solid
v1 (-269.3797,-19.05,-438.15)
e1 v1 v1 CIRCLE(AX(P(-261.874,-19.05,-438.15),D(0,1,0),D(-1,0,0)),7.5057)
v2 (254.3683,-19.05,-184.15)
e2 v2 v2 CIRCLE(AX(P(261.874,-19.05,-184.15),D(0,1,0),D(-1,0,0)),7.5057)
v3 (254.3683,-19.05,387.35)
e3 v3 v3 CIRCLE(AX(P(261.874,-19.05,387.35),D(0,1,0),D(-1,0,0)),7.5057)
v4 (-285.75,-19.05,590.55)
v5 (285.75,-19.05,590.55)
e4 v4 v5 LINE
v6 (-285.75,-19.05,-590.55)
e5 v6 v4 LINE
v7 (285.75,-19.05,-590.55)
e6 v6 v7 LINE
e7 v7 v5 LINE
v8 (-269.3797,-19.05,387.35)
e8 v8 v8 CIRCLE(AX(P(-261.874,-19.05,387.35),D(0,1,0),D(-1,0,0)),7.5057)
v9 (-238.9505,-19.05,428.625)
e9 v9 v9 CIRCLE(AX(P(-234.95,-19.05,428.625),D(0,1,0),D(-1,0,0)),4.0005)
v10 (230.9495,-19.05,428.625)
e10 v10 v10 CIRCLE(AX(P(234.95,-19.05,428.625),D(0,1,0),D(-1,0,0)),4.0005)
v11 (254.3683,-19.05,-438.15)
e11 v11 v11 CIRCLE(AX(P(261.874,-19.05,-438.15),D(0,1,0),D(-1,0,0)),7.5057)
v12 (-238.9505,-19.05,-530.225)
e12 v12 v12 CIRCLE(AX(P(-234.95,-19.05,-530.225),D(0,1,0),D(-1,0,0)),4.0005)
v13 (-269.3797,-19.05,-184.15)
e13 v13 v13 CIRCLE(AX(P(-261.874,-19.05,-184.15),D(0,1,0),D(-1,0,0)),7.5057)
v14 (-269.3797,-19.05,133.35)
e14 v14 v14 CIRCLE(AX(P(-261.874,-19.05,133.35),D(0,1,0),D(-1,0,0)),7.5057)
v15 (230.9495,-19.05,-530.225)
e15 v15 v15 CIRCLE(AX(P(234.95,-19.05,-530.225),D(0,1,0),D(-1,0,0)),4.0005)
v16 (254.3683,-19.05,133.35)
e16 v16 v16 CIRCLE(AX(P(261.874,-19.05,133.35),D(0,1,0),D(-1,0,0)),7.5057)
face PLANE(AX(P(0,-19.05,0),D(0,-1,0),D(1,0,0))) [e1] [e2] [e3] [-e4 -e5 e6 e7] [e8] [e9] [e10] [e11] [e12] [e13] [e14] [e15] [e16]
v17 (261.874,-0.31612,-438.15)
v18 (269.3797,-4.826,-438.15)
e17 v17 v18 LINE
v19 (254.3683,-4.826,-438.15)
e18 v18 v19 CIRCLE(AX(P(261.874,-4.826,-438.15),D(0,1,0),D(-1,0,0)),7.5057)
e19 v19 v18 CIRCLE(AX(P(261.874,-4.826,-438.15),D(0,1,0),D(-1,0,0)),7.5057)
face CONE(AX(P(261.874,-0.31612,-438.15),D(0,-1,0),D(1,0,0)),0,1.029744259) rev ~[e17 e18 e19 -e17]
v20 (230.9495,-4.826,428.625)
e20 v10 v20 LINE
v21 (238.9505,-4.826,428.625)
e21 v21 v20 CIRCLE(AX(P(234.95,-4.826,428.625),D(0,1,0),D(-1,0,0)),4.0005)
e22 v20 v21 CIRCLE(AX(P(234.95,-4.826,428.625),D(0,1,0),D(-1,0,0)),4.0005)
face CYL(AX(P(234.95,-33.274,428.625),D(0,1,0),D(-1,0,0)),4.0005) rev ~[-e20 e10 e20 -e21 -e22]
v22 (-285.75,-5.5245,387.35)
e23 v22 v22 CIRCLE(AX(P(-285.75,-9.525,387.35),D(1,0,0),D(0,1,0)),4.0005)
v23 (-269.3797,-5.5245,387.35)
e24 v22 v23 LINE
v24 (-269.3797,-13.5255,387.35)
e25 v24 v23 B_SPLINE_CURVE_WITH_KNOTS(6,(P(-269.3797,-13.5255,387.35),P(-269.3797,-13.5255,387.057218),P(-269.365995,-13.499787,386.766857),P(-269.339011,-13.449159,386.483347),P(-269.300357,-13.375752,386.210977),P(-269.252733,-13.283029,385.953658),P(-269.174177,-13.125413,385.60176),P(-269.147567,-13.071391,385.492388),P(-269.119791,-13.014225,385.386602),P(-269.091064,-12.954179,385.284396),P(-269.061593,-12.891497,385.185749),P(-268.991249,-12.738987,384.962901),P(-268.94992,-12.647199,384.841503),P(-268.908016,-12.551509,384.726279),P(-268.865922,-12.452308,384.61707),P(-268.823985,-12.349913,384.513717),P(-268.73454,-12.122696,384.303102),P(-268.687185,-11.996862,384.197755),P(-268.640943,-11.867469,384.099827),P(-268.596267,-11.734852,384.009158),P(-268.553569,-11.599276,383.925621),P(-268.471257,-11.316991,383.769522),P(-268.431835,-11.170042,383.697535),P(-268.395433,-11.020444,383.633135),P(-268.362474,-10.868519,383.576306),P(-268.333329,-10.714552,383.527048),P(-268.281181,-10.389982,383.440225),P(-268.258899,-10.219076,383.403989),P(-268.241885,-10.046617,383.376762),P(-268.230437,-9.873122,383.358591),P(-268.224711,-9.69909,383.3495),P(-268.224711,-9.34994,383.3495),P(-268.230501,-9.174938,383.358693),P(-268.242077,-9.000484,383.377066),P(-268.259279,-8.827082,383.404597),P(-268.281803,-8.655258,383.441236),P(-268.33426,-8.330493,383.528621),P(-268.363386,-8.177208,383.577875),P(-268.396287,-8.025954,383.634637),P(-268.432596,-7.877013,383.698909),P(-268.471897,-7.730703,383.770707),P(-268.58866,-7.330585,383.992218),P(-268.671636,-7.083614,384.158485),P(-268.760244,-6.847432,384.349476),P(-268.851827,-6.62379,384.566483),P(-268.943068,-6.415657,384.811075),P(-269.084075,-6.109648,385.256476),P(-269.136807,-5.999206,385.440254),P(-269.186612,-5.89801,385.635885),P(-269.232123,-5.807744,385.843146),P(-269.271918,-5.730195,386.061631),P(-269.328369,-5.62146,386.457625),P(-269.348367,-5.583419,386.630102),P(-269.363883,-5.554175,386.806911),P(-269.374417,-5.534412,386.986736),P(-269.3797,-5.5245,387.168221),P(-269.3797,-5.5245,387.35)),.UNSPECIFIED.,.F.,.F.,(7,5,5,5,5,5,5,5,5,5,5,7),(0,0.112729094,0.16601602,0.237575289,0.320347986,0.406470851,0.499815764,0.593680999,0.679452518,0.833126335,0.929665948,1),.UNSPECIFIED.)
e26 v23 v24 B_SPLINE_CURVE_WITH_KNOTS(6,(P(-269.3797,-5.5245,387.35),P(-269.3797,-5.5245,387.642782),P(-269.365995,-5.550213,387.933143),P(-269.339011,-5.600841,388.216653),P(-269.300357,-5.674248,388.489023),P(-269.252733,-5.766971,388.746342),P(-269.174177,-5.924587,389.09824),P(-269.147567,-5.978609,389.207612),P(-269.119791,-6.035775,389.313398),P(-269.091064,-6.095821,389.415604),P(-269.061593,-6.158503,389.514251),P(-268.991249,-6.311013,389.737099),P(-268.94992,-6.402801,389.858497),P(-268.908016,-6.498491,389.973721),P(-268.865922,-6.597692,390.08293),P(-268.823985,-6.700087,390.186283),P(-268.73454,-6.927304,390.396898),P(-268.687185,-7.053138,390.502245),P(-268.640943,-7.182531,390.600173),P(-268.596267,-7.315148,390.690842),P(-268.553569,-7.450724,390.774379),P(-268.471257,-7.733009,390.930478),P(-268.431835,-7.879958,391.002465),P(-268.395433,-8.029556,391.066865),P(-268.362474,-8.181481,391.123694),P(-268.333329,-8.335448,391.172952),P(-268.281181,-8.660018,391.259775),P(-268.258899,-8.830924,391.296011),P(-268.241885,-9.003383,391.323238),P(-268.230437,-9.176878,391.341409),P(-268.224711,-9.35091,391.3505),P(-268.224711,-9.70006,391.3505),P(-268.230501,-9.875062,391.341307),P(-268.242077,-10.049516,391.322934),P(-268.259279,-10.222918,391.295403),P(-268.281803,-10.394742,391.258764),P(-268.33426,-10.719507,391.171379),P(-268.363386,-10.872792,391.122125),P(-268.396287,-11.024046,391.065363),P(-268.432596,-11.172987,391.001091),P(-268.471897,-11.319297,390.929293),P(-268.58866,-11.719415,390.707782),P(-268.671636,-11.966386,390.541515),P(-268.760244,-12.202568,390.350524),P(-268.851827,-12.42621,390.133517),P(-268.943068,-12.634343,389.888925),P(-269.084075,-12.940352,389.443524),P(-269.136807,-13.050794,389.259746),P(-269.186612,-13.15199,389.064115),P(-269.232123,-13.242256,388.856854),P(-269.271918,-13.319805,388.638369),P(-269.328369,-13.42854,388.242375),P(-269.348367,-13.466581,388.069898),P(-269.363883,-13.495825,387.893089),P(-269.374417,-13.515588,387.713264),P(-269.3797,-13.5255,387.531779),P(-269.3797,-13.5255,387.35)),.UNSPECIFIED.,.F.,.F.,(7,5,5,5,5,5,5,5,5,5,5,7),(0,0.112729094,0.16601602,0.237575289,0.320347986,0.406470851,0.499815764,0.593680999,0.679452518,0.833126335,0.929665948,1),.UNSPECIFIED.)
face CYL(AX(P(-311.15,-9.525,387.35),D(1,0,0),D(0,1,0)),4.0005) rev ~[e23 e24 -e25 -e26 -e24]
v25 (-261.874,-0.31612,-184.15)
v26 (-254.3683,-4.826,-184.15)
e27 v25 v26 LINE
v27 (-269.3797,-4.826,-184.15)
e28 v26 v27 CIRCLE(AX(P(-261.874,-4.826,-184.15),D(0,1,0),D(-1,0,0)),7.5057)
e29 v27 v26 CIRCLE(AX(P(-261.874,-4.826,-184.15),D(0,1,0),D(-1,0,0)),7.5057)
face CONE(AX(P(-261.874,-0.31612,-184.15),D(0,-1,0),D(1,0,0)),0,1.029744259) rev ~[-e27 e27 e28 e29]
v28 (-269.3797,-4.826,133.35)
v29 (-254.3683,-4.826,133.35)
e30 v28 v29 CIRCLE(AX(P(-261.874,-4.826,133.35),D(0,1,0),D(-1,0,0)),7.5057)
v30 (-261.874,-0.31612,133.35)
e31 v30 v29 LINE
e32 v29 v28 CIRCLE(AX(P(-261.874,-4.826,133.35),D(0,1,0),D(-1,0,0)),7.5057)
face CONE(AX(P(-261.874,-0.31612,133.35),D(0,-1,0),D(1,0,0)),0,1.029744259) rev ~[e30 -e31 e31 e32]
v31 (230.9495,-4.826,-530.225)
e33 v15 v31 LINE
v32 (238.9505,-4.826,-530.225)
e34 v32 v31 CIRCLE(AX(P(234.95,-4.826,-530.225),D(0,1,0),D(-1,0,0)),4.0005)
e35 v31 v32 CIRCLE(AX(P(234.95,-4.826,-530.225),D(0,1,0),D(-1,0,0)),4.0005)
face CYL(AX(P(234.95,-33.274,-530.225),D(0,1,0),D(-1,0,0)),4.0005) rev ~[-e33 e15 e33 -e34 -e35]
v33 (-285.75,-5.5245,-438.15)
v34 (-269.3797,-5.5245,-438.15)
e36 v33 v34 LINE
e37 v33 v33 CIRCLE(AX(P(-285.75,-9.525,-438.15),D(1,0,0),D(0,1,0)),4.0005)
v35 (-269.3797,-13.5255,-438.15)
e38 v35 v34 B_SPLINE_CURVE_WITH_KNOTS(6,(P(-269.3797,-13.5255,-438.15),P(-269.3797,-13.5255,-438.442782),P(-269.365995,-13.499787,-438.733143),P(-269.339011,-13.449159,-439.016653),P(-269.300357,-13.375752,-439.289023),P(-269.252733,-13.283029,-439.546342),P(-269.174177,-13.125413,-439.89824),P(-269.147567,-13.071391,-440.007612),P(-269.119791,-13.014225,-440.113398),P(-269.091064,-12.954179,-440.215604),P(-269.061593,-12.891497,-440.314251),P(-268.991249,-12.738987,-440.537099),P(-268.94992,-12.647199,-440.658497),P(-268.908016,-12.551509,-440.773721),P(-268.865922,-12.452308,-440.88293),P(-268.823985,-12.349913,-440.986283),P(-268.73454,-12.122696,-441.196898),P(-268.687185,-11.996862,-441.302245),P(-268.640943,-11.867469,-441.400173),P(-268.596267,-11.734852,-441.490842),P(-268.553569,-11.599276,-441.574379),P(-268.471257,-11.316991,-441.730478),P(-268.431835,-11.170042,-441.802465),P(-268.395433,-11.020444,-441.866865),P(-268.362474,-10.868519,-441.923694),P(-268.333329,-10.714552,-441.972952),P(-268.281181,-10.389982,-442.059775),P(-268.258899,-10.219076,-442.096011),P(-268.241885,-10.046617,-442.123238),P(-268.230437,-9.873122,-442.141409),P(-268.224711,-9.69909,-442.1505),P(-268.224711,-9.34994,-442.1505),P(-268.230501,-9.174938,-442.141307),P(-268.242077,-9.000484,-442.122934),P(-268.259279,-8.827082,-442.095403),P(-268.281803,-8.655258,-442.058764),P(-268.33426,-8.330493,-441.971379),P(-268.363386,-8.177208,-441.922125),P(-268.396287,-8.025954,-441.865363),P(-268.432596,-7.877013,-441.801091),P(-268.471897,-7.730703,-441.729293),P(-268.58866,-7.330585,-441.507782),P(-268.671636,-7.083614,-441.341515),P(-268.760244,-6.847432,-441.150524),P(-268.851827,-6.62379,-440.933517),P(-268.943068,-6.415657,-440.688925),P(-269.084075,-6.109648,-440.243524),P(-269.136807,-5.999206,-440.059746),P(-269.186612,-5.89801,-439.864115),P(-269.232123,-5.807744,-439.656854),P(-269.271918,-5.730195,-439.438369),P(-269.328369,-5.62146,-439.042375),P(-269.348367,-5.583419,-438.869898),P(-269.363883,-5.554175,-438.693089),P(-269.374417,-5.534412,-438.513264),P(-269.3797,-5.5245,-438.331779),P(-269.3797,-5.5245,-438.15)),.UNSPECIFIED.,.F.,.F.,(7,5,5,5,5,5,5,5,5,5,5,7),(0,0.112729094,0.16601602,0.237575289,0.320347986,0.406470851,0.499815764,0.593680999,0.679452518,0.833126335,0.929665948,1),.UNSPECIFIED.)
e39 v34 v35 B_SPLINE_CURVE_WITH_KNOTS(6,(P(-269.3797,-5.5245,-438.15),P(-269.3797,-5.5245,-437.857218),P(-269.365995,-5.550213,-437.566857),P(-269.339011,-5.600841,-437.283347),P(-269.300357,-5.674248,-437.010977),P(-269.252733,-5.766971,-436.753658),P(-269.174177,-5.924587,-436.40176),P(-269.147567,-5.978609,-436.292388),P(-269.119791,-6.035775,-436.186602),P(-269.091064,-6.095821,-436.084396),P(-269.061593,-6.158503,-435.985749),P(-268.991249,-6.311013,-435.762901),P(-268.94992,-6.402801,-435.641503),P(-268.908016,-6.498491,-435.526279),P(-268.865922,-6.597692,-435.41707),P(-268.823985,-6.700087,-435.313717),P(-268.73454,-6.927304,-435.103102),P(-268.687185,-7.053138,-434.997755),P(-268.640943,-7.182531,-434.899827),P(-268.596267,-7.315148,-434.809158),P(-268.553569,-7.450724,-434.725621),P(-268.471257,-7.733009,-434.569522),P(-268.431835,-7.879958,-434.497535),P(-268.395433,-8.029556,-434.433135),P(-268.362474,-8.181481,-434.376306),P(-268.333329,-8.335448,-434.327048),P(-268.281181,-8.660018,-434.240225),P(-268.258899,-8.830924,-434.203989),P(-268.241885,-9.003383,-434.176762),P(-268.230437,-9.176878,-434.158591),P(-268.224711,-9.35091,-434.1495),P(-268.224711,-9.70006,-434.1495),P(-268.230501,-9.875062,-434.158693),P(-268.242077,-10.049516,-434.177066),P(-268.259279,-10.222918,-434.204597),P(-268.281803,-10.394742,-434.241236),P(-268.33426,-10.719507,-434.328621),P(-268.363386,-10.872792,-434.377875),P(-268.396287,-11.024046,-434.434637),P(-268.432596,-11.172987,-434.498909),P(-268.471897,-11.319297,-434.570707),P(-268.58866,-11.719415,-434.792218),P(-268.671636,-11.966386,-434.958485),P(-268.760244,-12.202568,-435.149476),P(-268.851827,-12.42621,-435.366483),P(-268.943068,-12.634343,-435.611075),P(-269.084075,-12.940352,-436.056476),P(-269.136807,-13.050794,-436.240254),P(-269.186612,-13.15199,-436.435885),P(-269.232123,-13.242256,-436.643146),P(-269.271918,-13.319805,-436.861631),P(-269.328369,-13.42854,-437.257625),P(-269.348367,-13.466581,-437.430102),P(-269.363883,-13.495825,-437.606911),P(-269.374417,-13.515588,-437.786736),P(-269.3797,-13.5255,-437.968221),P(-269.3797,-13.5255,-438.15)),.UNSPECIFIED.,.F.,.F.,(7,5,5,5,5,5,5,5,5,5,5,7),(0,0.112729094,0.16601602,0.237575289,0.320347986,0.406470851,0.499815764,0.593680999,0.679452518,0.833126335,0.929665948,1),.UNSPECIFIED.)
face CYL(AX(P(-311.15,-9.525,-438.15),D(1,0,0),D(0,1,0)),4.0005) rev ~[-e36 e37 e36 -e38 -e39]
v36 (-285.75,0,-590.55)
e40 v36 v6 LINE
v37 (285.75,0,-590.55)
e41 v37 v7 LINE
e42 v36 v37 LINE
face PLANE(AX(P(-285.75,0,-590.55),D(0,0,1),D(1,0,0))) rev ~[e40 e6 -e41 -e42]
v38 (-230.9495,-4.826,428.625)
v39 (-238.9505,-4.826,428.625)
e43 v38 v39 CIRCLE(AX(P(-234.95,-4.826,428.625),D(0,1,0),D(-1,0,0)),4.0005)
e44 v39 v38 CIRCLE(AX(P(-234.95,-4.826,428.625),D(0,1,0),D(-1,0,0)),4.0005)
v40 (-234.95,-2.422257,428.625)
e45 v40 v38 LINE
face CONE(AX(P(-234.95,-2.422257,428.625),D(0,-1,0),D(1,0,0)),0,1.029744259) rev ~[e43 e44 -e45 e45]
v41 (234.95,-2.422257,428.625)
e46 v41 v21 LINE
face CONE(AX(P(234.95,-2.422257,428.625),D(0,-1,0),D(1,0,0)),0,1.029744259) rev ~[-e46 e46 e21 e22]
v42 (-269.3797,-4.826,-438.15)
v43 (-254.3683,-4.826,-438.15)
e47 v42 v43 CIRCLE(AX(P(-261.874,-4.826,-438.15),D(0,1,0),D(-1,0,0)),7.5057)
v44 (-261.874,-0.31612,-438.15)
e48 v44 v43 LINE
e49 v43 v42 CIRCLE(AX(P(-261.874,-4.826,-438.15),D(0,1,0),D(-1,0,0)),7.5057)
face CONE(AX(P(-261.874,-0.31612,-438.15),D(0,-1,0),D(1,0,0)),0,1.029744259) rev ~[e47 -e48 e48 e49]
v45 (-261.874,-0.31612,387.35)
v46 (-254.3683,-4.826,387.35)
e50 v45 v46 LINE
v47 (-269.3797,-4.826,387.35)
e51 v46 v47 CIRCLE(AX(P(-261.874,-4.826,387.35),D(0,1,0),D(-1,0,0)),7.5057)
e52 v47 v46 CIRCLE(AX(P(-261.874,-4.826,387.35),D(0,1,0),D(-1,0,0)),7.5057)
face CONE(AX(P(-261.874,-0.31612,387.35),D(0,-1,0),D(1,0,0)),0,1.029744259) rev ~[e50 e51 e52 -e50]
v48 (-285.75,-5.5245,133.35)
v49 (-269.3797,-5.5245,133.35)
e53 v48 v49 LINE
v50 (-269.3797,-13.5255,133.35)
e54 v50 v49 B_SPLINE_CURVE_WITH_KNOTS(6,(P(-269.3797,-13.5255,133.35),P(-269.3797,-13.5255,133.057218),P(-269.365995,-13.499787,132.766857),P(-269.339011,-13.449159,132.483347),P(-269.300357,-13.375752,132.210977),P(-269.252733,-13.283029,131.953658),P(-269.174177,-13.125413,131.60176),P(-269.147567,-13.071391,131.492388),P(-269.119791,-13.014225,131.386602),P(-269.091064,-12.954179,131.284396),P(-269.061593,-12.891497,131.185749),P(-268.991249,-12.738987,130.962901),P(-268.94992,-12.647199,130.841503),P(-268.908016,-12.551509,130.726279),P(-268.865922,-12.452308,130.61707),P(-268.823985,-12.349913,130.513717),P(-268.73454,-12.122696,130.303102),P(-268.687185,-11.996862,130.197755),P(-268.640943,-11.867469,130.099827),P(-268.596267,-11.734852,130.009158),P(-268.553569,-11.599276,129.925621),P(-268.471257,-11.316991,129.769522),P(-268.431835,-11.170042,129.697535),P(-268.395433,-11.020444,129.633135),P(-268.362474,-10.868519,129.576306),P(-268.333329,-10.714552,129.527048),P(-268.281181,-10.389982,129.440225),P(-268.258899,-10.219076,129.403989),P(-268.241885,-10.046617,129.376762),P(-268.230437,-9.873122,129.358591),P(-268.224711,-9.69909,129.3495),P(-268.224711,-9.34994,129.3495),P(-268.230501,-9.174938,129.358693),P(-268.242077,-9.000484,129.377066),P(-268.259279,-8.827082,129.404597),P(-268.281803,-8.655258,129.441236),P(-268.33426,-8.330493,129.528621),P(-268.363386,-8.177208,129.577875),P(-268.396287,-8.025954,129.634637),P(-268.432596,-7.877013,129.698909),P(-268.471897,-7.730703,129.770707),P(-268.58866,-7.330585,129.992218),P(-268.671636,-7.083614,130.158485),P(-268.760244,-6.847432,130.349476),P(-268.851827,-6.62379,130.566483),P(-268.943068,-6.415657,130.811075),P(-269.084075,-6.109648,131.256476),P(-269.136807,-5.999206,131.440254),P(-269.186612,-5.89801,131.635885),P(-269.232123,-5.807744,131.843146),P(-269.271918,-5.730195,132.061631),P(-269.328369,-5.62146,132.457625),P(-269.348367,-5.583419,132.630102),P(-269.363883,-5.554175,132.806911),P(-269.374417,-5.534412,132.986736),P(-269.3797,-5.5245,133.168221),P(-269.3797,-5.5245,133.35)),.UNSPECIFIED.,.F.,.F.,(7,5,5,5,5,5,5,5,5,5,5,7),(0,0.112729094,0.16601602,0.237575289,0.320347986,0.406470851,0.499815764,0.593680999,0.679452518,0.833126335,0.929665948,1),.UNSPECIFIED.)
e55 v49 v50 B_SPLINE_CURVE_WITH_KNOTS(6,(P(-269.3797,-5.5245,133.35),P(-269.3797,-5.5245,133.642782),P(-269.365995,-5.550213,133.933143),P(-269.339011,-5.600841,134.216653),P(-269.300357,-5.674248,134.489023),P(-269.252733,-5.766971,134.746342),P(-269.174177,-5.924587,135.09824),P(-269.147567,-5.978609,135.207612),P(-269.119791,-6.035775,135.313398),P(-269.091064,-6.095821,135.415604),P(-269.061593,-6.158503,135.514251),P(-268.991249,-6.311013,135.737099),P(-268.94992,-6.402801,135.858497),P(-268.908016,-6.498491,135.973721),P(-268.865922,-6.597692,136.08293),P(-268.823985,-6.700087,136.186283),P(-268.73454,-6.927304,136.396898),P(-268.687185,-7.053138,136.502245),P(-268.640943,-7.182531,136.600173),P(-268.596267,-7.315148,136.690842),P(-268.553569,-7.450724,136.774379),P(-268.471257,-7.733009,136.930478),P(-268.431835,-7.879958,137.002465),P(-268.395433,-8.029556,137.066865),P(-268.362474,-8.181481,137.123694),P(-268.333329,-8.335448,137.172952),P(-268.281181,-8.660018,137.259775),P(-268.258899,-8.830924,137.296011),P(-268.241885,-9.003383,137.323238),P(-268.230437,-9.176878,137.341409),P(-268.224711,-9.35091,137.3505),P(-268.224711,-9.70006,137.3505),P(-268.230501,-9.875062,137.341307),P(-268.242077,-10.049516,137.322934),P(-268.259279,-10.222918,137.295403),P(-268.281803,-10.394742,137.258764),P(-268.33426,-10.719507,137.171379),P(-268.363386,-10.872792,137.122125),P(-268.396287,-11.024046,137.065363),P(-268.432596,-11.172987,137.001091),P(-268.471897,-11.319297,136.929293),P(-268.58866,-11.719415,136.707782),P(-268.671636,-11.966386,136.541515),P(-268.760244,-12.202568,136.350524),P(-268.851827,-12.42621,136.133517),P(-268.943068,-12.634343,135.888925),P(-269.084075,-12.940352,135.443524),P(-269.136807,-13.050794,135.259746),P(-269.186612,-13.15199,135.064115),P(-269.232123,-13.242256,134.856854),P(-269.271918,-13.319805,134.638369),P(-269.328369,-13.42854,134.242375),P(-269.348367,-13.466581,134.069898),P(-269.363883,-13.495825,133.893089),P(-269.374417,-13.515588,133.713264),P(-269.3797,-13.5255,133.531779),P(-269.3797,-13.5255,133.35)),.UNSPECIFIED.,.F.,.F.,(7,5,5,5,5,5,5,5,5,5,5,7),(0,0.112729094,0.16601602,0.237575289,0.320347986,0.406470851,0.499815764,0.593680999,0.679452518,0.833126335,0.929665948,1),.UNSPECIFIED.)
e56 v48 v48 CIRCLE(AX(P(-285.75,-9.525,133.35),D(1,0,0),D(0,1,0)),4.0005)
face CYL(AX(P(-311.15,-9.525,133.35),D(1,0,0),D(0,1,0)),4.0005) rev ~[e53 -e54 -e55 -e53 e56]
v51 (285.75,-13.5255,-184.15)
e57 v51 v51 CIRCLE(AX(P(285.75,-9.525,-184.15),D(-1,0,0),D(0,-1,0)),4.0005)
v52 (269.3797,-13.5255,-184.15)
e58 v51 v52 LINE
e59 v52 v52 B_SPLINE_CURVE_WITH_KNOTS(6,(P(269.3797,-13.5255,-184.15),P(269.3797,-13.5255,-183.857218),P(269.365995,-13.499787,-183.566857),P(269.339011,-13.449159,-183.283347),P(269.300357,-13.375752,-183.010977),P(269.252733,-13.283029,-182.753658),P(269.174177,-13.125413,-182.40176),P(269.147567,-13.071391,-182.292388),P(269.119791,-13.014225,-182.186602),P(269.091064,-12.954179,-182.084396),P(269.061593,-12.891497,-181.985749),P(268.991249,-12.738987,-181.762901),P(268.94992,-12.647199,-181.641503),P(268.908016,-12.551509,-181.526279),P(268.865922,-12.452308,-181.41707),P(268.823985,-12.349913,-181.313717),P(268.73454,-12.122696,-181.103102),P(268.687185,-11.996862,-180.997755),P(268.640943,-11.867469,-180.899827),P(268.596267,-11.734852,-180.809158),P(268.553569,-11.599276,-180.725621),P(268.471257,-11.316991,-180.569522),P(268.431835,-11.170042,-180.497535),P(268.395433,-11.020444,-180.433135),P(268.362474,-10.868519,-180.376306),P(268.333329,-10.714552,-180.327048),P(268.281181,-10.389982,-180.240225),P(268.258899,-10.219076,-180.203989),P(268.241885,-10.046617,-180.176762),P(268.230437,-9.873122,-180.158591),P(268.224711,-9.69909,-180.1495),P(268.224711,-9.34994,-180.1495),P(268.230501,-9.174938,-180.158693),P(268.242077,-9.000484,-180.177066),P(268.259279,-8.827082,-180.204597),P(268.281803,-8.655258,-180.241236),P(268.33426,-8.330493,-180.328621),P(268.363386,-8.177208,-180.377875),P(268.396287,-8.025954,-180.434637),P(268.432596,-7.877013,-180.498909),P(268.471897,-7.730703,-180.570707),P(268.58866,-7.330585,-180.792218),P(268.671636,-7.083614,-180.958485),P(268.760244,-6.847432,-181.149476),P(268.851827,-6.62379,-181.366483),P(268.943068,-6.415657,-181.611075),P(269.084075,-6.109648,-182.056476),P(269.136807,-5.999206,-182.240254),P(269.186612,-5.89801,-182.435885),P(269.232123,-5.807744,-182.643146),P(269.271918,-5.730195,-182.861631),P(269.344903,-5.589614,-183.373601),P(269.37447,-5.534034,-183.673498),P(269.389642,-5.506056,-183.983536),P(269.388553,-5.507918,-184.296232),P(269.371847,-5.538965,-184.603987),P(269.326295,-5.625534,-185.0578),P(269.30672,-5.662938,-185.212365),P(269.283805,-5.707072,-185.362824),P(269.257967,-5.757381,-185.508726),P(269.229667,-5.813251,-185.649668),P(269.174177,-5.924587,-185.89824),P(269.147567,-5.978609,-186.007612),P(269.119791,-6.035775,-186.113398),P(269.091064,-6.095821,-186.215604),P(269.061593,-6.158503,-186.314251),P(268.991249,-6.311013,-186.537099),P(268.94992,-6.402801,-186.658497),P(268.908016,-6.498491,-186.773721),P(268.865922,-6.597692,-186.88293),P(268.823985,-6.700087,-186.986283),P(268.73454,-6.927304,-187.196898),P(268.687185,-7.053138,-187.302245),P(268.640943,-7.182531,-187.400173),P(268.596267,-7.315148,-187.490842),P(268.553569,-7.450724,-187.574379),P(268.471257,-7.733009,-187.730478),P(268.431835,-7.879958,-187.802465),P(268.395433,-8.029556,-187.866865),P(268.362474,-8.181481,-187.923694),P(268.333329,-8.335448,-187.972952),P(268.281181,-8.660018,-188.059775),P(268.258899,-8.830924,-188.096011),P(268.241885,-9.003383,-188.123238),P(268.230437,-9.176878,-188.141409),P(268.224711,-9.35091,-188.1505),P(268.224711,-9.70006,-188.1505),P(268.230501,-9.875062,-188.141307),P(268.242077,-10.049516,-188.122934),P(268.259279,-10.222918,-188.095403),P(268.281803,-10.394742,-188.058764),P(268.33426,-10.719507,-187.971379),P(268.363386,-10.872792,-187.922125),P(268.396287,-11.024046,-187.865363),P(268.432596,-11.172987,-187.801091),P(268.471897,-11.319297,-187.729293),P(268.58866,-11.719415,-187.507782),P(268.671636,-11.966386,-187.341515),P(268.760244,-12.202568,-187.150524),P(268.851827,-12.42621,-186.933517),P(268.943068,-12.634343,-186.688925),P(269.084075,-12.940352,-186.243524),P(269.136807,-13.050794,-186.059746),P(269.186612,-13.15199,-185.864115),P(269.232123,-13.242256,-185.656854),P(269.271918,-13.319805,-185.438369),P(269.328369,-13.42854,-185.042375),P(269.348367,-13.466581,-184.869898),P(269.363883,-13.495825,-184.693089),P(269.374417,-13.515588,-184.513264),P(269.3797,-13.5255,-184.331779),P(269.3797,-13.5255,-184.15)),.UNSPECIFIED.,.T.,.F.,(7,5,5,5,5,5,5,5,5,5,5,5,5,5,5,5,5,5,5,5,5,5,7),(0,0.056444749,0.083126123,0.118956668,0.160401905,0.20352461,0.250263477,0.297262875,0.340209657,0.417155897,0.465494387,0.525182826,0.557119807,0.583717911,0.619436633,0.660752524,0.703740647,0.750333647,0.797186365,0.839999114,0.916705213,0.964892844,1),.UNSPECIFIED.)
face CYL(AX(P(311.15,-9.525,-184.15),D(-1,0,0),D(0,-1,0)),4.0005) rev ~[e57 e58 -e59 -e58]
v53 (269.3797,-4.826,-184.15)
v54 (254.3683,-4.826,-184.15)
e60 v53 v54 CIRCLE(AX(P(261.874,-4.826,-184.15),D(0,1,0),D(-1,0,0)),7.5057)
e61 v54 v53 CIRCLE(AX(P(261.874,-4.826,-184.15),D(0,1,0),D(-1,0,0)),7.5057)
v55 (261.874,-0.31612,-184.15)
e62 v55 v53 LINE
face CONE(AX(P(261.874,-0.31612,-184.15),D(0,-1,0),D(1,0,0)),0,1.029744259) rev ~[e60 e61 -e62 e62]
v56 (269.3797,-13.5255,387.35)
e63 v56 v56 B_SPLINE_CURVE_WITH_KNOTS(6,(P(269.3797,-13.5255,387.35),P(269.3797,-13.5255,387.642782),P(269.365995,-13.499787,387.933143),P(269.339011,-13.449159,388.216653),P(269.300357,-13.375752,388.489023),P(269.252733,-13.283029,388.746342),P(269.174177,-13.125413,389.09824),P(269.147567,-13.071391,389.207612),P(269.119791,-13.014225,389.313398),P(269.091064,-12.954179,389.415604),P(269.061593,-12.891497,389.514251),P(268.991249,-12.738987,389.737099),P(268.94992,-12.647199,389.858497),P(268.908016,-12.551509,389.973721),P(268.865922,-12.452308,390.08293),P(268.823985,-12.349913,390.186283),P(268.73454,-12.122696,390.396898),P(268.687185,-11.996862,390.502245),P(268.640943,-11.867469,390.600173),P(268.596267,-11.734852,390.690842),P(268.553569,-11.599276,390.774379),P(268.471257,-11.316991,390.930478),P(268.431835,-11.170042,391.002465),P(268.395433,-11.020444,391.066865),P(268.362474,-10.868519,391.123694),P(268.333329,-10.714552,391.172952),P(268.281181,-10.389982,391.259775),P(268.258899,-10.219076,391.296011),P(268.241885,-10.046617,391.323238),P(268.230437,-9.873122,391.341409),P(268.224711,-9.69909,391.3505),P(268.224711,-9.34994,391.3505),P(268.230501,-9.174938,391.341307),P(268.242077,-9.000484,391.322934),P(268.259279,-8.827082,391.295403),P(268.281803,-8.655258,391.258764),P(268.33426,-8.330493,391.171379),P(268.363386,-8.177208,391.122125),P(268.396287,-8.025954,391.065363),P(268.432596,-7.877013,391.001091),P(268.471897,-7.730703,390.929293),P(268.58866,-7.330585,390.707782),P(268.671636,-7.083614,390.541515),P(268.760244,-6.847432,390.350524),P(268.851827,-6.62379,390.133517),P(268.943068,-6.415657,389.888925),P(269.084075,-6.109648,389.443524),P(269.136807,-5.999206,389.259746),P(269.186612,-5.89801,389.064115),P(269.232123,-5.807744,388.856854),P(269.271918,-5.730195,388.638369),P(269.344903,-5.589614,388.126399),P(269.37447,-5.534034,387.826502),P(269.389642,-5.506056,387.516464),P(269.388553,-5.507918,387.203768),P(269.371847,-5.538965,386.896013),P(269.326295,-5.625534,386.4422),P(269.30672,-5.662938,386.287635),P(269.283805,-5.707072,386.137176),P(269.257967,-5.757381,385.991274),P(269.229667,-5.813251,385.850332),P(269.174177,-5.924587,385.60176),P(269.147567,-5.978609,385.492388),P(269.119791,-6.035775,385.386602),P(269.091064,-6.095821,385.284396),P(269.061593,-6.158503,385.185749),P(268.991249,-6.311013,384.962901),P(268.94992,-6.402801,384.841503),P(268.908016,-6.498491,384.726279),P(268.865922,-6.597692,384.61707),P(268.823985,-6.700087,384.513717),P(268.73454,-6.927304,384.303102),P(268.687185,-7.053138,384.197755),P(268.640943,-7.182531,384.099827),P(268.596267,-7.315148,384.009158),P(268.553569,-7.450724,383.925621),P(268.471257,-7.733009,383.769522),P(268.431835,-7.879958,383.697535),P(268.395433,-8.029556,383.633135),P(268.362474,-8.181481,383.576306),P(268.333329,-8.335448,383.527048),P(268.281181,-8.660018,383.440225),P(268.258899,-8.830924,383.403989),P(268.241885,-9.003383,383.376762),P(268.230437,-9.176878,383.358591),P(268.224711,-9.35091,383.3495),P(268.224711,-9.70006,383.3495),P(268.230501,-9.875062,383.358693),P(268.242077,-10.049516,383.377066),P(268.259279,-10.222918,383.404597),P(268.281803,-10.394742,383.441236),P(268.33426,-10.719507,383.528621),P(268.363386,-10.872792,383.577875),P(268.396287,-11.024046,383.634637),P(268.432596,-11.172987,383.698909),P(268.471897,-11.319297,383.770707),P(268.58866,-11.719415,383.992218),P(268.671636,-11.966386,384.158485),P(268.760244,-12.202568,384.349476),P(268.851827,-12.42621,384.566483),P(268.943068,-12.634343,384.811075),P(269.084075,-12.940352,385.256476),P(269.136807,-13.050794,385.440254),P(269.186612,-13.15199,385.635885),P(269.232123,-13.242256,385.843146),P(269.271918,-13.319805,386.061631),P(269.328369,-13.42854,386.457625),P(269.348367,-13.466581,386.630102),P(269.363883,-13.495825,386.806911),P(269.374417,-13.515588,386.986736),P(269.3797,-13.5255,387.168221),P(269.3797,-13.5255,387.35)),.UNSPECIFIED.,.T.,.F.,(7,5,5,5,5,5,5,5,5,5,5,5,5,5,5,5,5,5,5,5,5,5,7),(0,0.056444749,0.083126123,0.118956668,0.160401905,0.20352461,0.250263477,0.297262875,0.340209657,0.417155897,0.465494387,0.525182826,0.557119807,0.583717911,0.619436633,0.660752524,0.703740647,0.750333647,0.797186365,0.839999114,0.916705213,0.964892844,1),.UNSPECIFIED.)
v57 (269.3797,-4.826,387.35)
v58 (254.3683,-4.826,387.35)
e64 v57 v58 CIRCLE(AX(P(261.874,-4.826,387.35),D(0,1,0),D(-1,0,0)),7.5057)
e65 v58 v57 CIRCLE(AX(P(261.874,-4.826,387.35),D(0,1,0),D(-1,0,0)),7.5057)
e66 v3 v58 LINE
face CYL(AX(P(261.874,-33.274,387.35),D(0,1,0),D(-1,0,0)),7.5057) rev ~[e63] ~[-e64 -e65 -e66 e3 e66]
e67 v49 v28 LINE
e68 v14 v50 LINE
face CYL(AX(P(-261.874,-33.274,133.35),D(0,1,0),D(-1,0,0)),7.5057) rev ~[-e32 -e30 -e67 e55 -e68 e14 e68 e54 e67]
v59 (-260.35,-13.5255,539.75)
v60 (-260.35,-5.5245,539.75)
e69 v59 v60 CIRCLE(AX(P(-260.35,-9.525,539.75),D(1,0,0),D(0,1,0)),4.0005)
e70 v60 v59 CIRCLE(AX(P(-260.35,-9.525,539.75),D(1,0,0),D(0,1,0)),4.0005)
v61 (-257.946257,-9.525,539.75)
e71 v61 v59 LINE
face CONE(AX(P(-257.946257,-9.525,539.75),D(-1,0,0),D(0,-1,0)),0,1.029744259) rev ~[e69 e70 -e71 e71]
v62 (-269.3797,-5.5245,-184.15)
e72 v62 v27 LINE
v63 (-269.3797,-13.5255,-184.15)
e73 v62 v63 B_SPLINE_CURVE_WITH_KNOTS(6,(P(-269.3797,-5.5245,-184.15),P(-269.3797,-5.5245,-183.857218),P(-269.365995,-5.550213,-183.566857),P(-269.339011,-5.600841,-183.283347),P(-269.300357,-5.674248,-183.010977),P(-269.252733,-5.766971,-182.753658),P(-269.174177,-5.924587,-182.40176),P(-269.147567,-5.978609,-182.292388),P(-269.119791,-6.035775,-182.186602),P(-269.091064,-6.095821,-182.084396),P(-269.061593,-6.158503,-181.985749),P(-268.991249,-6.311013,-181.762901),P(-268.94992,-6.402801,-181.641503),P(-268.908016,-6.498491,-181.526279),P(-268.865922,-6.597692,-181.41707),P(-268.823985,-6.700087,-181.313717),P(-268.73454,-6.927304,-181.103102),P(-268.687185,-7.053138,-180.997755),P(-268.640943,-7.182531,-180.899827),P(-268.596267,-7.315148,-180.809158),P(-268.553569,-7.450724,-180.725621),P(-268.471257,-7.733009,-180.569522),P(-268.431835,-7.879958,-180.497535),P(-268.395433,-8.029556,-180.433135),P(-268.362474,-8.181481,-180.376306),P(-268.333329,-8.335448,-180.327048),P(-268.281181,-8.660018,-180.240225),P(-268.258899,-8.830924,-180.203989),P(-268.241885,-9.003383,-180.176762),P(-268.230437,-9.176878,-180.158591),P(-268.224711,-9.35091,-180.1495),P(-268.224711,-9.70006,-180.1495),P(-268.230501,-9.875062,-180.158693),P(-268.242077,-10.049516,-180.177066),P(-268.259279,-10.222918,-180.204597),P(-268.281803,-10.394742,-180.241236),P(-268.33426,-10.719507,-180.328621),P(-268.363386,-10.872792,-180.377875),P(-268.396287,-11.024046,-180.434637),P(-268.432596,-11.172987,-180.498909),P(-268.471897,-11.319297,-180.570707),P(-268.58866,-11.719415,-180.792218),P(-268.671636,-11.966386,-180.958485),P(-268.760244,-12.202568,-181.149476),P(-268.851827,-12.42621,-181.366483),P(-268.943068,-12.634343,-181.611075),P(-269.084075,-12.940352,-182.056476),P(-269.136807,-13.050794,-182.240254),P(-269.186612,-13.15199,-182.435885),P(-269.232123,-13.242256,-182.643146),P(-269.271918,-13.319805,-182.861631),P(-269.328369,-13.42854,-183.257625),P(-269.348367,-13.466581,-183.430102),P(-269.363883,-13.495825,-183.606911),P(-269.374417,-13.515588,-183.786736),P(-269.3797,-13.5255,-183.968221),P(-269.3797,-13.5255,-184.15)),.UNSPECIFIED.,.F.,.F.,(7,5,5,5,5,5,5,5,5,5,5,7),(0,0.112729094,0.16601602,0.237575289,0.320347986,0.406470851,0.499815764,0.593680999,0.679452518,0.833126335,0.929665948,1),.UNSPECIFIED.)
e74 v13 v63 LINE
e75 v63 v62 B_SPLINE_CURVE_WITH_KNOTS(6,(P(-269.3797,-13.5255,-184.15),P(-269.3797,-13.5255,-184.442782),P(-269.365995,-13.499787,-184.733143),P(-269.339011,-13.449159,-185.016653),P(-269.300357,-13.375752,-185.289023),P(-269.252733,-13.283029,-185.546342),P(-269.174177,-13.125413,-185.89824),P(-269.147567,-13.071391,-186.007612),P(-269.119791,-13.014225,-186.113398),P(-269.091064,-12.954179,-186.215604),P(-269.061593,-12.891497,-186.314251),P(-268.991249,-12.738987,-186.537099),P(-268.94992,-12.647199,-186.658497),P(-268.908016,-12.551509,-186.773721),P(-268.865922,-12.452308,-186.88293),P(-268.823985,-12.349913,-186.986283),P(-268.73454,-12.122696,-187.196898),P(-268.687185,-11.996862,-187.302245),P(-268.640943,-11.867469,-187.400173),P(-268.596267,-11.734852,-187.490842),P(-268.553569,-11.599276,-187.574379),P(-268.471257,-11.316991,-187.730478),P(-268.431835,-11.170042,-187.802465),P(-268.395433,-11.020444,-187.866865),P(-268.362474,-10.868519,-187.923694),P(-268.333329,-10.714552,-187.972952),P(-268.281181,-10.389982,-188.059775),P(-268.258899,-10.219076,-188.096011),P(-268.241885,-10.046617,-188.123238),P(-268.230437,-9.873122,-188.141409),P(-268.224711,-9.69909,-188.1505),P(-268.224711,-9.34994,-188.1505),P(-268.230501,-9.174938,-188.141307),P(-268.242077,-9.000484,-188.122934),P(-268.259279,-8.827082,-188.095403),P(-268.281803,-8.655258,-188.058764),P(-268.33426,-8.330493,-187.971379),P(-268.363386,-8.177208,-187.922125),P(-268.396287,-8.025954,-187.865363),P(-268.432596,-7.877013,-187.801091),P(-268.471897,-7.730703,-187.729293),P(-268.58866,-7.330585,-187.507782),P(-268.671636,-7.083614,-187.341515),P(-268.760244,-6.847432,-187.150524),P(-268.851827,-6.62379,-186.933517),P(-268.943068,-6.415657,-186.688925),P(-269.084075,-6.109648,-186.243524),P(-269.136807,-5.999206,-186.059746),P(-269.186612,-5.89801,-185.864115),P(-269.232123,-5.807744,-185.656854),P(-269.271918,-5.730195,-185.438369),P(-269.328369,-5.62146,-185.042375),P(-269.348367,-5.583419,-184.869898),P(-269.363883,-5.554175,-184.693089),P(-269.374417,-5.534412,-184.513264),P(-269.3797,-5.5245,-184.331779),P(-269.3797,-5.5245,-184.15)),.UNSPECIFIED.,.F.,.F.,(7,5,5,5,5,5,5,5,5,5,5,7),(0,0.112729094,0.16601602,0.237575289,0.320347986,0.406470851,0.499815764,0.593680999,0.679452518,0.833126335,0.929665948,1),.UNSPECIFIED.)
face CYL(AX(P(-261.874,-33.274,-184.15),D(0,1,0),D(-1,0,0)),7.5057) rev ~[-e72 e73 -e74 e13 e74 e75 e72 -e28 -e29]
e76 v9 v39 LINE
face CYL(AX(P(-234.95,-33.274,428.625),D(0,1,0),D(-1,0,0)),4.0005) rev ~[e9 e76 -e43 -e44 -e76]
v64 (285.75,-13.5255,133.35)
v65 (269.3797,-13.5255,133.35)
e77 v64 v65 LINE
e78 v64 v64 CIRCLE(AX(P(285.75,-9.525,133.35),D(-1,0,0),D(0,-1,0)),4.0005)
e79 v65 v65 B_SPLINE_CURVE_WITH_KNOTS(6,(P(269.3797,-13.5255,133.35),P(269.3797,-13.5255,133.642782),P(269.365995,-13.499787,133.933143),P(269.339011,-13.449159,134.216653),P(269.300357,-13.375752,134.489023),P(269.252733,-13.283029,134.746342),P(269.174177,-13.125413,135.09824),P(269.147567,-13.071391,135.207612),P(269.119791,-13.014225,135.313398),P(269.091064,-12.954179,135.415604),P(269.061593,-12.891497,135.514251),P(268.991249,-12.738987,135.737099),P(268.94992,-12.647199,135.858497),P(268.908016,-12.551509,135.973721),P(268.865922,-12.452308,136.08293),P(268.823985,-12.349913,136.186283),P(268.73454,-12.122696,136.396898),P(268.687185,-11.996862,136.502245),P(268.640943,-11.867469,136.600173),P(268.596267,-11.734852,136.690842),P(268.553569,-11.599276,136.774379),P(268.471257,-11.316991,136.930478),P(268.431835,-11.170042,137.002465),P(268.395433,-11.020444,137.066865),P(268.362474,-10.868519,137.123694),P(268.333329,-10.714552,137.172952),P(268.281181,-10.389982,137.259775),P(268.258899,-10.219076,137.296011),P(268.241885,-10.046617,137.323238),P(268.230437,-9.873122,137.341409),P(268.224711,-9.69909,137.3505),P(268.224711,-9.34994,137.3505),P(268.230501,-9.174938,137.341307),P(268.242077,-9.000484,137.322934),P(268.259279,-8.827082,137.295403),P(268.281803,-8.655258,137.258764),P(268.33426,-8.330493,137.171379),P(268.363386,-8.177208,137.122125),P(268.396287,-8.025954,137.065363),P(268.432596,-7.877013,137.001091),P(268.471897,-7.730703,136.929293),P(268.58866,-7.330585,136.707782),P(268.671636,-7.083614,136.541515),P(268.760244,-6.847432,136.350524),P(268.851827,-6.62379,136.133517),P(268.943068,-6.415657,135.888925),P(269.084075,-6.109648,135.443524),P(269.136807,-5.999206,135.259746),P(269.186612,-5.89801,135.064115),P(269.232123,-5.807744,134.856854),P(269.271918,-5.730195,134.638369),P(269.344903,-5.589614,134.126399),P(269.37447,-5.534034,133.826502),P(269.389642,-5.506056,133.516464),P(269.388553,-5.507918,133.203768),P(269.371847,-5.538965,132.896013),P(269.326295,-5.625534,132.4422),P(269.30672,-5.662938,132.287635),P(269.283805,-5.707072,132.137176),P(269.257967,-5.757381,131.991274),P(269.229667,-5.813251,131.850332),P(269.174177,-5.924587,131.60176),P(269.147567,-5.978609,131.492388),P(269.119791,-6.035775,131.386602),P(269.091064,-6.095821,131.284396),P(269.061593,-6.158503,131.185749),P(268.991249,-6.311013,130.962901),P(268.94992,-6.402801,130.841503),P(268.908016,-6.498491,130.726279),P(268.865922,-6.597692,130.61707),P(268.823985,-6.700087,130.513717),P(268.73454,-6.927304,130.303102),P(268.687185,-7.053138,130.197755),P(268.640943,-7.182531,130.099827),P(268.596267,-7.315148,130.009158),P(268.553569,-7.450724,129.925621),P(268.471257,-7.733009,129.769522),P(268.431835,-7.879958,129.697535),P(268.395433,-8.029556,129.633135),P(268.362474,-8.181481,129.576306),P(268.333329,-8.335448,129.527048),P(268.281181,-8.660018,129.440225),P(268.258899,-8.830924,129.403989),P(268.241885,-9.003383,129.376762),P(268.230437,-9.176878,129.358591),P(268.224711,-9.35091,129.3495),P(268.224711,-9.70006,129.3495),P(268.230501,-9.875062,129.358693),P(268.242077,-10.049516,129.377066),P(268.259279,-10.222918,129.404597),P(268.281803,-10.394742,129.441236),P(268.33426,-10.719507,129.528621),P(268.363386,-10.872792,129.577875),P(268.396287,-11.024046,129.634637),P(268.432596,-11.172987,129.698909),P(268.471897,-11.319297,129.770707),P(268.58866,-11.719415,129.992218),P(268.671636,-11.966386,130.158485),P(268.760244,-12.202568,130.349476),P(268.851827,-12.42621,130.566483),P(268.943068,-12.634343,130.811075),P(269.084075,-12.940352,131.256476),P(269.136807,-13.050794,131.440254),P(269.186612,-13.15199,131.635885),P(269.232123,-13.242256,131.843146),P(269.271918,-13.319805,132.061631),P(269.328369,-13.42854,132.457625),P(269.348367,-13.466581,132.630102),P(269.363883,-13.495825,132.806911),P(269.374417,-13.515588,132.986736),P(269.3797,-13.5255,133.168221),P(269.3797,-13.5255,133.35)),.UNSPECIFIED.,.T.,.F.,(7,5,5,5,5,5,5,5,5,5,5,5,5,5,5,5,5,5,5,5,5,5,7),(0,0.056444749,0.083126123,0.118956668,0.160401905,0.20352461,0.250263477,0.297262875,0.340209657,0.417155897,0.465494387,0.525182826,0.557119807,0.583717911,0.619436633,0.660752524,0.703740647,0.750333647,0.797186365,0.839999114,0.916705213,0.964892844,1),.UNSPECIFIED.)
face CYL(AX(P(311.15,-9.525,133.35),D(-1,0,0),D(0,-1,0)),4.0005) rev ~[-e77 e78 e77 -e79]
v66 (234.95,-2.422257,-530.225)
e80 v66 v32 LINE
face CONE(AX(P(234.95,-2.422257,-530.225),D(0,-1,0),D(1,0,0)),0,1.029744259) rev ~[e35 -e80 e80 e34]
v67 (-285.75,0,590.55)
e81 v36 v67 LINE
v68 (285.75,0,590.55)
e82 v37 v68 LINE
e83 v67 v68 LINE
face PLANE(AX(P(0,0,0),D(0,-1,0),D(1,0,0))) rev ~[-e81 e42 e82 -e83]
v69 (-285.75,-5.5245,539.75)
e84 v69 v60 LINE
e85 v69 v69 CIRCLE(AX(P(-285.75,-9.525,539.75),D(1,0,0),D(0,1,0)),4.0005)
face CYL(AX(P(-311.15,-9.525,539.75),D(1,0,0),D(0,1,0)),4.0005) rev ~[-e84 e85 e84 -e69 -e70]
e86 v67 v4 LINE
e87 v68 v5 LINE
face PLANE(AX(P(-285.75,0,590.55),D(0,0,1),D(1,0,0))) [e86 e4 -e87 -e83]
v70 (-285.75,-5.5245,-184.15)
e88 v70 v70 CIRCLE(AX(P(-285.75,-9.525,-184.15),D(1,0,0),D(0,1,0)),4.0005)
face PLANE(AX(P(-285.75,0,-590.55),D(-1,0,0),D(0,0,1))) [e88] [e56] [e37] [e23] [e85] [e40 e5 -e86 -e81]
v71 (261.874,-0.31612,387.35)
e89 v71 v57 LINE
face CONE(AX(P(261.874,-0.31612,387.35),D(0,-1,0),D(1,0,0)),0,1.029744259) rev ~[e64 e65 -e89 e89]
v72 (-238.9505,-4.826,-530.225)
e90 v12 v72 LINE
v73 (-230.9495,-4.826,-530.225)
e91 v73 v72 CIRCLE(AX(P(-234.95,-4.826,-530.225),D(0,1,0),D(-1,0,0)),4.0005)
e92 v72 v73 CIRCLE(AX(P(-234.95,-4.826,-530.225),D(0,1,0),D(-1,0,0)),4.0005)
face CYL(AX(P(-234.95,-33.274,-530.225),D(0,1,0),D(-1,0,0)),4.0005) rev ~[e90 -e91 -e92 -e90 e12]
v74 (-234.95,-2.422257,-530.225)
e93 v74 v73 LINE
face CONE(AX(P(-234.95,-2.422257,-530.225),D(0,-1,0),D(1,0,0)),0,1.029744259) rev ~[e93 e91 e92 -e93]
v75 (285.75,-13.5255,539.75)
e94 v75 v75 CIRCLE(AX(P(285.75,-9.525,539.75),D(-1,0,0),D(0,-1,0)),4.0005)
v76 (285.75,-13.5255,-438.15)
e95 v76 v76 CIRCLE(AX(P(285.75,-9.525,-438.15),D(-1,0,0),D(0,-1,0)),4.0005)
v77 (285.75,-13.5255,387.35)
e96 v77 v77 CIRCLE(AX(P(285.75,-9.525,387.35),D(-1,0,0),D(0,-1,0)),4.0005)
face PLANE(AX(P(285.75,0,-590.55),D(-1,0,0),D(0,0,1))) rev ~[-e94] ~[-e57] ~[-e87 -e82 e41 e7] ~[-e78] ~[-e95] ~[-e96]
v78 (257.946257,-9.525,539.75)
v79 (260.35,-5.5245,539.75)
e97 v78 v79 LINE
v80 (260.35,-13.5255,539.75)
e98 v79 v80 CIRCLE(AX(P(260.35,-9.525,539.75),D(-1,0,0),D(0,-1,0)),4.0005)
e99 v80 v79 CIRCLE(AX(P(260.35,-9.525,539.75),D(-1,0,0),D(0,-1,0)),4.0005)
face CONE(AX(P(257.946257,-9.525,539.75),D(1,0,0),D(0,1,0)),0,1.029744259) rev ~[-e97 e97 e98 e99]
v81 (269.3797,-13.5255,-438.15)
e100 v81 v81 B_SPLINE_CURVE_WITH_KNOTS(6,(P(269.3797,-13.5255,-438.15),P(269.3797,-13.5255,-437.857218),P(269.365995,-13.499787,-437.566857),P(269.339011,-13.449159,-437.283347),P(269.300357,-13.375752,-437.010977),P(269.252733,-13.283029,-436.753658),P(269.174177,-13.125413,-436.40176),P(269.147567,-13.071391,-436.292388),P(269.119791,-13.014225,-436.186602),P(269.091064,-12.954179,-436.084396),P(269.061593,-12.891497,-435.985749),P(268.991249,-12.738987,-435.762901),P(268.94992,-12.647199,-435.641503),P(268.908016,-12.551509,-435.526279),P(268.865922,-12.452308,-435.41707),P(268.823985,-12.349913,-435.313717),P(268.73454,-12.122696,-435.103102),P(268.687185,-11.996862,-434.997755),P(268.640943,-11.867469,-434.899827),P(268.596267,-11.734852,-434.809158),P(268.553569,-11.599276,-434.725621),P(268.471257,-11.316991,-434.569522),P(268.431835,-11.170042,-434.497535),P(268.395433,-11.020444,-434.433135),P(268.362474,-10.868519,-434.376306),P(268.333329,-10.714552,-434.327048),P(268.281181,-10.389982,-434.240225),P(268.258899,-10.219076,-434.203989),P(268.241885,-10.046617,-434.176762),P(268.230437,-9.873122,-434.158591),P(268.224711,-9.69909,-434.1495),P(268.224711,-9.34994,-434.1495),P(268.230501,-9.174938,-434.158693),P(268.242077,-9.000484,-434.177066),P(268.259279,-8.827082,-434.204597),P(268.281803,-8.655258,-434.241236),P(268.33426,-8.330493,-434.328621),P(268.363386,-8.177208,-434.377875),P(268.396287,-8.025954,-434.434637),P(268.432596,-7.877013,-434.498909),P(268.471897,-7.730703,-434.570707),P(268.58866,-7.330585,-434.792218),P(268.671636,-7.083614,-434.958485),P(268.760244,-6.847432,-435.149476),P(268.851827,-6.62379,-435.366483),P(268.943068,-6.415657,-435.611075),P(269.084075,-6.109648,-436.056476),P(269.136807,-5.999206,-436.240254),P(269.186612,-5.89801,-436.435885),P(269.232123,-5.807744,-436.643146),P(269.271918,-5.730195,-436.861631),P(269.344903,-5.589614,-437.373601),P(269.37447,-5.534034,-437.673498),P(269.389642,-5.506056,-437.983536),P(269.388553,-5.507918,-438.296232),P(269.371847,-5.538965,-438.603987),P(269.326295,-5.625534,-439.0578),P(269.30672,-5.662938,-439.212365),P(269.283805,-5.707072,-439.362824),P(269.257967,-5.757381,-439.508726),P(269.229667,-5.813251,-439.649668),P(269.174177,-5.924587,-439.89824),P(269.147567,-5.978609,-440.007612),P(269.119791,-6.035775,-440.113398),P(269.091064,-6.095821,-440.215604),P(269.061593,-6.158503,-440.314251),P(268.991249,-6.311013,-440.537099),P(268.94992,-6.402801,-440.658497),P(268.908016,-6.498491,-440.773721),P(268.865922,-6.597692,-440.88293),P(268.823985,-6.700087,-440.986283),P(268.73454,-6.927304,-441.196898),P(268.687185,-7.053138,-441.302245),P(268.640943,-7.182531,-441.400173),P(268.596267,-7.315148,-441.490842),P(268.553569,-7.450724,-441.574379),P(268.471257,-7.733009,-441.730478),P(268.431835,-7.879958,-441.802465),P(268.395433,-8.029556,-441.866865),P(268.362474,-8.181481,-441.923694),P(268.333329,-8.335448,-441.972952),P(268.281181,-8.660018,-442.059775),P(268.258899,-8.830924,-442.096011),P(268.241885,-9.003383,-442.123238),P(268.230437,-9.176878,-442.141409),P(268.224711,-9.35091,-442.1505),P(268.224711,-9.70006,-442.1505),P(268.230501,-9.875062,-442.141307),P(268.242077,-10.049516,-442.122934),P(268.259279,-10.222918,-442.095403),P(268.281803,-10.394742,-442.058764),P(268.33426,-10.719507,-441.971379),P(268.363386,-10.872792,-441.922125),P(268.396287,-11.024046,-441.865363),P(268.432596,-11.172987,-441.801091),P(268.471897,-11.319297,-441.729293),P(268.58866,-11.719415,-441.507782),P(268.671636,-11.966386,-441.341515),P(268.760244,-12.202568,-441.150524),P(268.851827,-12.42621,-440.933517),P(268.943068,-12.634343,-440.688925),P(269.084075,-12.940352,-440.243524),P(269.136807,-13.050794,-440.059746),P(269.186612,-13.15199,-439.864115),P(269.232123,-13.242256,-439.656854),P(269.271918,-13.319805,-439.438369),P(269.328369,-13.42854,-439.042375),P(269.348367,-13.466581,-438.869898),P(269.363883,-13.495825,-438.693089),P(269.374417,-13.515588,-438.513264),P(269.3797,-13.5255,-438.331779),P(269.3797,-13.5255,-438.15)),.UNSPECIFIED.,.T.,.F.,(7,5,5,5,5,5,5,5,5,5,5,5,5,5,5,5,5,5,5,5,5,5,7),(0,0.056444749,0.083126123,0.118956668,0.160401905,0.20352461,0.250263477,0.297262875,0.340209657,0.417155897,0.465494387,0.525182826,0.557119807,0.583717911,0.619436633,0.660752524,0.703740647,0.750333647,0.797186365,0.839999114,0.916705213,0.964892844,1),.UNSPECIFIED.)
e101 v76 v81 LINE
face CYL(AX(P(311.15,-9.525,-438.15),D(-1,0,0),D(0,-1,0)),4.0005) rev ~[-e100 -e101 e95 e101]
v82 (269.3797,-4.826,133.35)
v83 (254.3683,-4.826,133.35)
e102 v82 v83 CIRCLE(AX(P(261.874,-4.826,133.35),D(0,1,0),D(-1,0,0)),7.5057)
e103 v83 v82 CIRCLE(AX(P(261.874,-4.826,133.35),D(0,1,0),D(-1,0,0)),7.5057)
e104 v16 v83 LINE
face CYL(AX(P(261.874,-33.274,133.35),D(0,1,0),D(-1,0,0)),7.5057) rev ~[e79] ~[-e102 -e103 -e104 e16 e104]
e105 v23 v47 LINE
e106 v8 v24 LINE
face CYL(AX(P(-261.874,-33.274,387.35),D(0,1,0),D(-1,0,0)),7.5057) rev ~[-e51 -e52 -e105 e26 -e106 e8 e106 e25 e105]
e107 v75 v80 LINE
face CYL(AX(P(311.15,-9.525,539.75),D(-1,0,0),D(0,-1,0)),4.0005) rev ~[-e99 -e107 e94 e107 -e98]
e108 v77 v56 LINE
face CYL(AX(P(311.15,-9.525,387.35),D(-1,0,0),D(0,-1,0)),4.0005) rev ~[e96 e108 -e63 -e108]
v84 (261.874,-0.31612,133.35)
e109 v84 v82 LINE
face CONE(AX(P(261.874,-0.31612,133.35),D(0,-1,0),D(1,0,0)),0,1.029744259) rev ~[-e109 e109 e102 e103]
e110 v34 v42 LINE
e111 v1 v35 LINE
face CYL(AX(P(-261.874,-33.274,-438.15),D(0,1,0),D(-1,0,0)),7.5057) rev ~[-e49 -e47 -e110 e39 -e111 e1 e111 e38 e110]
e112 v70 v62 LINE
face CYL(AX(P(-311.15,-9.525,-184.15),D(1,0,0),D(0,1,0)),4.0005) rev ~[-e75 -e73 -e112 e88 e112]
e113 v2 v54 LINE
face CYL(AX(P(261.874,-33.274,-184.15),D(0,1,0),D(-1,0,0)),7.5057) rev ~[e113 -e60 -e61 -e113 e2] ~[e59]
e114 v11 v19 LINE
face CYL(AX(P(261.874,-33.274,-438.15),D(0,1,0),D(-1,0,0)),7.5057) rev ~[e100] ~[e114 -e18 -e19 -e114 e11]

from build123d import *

# Parameters (mm, degrees)
F0_W     = 571.5
F0_H     = 1181.1
F1_DEPTH = 19.05
F3_D     = 15.0114
F3_DEPTH = 14.224
F3_TIP   = 4.5098795482
F5_D     = 8.001
F5_DEPTH = 25.4
F5_TIP   = 2.4037429064
F7_D     = 8.001
F7_DEPTH = 25.4
F7_TIP   = 2.4037429064
F9_D     = 8.001
F9_DEPTH = 14.224
F9_TIP   = 2.4037429064


with BuildPart() as f1:
    # F0 (on Front) → F1 (new body)
    with BuildSketch(Plane.XZ):
        Rectangle(F0_W, F0_H)
    extrude(amount=F1_DEPTH)

    # F3
    with Locations(Plane.XZ.offset(19.05)):
        with Locations((-261.874, 387.35), (-261.874, 133.35), (-261.874, -184.15), (-261.874, -438.15), (261.874, -438.15), (261.874, -184.15), (261.874, 133.35), (261.874, 387.35)):
            Hole(F3_D / 2, depth=F3_DEPTH)
            with Locations((0, 0, -(F3_DEPTH + F3_TIP / 2))):  # 118° drill point
                Cone(0, F3_D / 2, F3_TIP, mode=Mode.SUBTRACT)

    # F5
    with Locations(Plane.YZ.offset(285.75)):
        with Locations((-9.525, 539.75), (-9.525, 387.35), (-9.525, 133.35), (-9.525, -184.15), (-9.525, -438.15)):
            Hole(F5_D / 2, depth=F5_DEPTH)
            with Locations((0, 0, -(F5_DEPTH + F5_TIP / 2))):  # 118° drill point
                Cone(0, F5_D / 2, F5_TIP, mode=Mode.SUBTRACT)

    # F7
    with Locations(Plane(origin=(-285.75, 0, 0), x_dir=(0, -1, 0), z_dir=(-1, 0, 0))):
        with Locations((9.525, 539.75), (9.525, 387.35), (9.525, 133.35), (9.525, -184.15), (9.525, -438.15)):
            Hole(F7_D / 2, depth=F7_DEPTH)
            with Locations((0, 0, -(F7_DEPTH + F7_TIP / 2))):  # 118° drill point
                Cone(0, F7_D / 2, F7_TIP, mode=Mode.SUBTRACT)

    # F9
    with Locations(Plane.XZ.offset(19.05)):
        with Locations((-234.95, -530.225), (234.95, -530.225), (-234.95, 428.625), (234.95, 428.625)):
            Hole(F9_D / 2, depth=F9_DEPTH)
            with Locations((0, 0, -(F9_DEPTH + F9_TIP / 2))):  # 118° drill point
                Cone(0, F9_D / 2, F9_TIP, mode=Mode.SUBTRACT)


solid = f1.part
